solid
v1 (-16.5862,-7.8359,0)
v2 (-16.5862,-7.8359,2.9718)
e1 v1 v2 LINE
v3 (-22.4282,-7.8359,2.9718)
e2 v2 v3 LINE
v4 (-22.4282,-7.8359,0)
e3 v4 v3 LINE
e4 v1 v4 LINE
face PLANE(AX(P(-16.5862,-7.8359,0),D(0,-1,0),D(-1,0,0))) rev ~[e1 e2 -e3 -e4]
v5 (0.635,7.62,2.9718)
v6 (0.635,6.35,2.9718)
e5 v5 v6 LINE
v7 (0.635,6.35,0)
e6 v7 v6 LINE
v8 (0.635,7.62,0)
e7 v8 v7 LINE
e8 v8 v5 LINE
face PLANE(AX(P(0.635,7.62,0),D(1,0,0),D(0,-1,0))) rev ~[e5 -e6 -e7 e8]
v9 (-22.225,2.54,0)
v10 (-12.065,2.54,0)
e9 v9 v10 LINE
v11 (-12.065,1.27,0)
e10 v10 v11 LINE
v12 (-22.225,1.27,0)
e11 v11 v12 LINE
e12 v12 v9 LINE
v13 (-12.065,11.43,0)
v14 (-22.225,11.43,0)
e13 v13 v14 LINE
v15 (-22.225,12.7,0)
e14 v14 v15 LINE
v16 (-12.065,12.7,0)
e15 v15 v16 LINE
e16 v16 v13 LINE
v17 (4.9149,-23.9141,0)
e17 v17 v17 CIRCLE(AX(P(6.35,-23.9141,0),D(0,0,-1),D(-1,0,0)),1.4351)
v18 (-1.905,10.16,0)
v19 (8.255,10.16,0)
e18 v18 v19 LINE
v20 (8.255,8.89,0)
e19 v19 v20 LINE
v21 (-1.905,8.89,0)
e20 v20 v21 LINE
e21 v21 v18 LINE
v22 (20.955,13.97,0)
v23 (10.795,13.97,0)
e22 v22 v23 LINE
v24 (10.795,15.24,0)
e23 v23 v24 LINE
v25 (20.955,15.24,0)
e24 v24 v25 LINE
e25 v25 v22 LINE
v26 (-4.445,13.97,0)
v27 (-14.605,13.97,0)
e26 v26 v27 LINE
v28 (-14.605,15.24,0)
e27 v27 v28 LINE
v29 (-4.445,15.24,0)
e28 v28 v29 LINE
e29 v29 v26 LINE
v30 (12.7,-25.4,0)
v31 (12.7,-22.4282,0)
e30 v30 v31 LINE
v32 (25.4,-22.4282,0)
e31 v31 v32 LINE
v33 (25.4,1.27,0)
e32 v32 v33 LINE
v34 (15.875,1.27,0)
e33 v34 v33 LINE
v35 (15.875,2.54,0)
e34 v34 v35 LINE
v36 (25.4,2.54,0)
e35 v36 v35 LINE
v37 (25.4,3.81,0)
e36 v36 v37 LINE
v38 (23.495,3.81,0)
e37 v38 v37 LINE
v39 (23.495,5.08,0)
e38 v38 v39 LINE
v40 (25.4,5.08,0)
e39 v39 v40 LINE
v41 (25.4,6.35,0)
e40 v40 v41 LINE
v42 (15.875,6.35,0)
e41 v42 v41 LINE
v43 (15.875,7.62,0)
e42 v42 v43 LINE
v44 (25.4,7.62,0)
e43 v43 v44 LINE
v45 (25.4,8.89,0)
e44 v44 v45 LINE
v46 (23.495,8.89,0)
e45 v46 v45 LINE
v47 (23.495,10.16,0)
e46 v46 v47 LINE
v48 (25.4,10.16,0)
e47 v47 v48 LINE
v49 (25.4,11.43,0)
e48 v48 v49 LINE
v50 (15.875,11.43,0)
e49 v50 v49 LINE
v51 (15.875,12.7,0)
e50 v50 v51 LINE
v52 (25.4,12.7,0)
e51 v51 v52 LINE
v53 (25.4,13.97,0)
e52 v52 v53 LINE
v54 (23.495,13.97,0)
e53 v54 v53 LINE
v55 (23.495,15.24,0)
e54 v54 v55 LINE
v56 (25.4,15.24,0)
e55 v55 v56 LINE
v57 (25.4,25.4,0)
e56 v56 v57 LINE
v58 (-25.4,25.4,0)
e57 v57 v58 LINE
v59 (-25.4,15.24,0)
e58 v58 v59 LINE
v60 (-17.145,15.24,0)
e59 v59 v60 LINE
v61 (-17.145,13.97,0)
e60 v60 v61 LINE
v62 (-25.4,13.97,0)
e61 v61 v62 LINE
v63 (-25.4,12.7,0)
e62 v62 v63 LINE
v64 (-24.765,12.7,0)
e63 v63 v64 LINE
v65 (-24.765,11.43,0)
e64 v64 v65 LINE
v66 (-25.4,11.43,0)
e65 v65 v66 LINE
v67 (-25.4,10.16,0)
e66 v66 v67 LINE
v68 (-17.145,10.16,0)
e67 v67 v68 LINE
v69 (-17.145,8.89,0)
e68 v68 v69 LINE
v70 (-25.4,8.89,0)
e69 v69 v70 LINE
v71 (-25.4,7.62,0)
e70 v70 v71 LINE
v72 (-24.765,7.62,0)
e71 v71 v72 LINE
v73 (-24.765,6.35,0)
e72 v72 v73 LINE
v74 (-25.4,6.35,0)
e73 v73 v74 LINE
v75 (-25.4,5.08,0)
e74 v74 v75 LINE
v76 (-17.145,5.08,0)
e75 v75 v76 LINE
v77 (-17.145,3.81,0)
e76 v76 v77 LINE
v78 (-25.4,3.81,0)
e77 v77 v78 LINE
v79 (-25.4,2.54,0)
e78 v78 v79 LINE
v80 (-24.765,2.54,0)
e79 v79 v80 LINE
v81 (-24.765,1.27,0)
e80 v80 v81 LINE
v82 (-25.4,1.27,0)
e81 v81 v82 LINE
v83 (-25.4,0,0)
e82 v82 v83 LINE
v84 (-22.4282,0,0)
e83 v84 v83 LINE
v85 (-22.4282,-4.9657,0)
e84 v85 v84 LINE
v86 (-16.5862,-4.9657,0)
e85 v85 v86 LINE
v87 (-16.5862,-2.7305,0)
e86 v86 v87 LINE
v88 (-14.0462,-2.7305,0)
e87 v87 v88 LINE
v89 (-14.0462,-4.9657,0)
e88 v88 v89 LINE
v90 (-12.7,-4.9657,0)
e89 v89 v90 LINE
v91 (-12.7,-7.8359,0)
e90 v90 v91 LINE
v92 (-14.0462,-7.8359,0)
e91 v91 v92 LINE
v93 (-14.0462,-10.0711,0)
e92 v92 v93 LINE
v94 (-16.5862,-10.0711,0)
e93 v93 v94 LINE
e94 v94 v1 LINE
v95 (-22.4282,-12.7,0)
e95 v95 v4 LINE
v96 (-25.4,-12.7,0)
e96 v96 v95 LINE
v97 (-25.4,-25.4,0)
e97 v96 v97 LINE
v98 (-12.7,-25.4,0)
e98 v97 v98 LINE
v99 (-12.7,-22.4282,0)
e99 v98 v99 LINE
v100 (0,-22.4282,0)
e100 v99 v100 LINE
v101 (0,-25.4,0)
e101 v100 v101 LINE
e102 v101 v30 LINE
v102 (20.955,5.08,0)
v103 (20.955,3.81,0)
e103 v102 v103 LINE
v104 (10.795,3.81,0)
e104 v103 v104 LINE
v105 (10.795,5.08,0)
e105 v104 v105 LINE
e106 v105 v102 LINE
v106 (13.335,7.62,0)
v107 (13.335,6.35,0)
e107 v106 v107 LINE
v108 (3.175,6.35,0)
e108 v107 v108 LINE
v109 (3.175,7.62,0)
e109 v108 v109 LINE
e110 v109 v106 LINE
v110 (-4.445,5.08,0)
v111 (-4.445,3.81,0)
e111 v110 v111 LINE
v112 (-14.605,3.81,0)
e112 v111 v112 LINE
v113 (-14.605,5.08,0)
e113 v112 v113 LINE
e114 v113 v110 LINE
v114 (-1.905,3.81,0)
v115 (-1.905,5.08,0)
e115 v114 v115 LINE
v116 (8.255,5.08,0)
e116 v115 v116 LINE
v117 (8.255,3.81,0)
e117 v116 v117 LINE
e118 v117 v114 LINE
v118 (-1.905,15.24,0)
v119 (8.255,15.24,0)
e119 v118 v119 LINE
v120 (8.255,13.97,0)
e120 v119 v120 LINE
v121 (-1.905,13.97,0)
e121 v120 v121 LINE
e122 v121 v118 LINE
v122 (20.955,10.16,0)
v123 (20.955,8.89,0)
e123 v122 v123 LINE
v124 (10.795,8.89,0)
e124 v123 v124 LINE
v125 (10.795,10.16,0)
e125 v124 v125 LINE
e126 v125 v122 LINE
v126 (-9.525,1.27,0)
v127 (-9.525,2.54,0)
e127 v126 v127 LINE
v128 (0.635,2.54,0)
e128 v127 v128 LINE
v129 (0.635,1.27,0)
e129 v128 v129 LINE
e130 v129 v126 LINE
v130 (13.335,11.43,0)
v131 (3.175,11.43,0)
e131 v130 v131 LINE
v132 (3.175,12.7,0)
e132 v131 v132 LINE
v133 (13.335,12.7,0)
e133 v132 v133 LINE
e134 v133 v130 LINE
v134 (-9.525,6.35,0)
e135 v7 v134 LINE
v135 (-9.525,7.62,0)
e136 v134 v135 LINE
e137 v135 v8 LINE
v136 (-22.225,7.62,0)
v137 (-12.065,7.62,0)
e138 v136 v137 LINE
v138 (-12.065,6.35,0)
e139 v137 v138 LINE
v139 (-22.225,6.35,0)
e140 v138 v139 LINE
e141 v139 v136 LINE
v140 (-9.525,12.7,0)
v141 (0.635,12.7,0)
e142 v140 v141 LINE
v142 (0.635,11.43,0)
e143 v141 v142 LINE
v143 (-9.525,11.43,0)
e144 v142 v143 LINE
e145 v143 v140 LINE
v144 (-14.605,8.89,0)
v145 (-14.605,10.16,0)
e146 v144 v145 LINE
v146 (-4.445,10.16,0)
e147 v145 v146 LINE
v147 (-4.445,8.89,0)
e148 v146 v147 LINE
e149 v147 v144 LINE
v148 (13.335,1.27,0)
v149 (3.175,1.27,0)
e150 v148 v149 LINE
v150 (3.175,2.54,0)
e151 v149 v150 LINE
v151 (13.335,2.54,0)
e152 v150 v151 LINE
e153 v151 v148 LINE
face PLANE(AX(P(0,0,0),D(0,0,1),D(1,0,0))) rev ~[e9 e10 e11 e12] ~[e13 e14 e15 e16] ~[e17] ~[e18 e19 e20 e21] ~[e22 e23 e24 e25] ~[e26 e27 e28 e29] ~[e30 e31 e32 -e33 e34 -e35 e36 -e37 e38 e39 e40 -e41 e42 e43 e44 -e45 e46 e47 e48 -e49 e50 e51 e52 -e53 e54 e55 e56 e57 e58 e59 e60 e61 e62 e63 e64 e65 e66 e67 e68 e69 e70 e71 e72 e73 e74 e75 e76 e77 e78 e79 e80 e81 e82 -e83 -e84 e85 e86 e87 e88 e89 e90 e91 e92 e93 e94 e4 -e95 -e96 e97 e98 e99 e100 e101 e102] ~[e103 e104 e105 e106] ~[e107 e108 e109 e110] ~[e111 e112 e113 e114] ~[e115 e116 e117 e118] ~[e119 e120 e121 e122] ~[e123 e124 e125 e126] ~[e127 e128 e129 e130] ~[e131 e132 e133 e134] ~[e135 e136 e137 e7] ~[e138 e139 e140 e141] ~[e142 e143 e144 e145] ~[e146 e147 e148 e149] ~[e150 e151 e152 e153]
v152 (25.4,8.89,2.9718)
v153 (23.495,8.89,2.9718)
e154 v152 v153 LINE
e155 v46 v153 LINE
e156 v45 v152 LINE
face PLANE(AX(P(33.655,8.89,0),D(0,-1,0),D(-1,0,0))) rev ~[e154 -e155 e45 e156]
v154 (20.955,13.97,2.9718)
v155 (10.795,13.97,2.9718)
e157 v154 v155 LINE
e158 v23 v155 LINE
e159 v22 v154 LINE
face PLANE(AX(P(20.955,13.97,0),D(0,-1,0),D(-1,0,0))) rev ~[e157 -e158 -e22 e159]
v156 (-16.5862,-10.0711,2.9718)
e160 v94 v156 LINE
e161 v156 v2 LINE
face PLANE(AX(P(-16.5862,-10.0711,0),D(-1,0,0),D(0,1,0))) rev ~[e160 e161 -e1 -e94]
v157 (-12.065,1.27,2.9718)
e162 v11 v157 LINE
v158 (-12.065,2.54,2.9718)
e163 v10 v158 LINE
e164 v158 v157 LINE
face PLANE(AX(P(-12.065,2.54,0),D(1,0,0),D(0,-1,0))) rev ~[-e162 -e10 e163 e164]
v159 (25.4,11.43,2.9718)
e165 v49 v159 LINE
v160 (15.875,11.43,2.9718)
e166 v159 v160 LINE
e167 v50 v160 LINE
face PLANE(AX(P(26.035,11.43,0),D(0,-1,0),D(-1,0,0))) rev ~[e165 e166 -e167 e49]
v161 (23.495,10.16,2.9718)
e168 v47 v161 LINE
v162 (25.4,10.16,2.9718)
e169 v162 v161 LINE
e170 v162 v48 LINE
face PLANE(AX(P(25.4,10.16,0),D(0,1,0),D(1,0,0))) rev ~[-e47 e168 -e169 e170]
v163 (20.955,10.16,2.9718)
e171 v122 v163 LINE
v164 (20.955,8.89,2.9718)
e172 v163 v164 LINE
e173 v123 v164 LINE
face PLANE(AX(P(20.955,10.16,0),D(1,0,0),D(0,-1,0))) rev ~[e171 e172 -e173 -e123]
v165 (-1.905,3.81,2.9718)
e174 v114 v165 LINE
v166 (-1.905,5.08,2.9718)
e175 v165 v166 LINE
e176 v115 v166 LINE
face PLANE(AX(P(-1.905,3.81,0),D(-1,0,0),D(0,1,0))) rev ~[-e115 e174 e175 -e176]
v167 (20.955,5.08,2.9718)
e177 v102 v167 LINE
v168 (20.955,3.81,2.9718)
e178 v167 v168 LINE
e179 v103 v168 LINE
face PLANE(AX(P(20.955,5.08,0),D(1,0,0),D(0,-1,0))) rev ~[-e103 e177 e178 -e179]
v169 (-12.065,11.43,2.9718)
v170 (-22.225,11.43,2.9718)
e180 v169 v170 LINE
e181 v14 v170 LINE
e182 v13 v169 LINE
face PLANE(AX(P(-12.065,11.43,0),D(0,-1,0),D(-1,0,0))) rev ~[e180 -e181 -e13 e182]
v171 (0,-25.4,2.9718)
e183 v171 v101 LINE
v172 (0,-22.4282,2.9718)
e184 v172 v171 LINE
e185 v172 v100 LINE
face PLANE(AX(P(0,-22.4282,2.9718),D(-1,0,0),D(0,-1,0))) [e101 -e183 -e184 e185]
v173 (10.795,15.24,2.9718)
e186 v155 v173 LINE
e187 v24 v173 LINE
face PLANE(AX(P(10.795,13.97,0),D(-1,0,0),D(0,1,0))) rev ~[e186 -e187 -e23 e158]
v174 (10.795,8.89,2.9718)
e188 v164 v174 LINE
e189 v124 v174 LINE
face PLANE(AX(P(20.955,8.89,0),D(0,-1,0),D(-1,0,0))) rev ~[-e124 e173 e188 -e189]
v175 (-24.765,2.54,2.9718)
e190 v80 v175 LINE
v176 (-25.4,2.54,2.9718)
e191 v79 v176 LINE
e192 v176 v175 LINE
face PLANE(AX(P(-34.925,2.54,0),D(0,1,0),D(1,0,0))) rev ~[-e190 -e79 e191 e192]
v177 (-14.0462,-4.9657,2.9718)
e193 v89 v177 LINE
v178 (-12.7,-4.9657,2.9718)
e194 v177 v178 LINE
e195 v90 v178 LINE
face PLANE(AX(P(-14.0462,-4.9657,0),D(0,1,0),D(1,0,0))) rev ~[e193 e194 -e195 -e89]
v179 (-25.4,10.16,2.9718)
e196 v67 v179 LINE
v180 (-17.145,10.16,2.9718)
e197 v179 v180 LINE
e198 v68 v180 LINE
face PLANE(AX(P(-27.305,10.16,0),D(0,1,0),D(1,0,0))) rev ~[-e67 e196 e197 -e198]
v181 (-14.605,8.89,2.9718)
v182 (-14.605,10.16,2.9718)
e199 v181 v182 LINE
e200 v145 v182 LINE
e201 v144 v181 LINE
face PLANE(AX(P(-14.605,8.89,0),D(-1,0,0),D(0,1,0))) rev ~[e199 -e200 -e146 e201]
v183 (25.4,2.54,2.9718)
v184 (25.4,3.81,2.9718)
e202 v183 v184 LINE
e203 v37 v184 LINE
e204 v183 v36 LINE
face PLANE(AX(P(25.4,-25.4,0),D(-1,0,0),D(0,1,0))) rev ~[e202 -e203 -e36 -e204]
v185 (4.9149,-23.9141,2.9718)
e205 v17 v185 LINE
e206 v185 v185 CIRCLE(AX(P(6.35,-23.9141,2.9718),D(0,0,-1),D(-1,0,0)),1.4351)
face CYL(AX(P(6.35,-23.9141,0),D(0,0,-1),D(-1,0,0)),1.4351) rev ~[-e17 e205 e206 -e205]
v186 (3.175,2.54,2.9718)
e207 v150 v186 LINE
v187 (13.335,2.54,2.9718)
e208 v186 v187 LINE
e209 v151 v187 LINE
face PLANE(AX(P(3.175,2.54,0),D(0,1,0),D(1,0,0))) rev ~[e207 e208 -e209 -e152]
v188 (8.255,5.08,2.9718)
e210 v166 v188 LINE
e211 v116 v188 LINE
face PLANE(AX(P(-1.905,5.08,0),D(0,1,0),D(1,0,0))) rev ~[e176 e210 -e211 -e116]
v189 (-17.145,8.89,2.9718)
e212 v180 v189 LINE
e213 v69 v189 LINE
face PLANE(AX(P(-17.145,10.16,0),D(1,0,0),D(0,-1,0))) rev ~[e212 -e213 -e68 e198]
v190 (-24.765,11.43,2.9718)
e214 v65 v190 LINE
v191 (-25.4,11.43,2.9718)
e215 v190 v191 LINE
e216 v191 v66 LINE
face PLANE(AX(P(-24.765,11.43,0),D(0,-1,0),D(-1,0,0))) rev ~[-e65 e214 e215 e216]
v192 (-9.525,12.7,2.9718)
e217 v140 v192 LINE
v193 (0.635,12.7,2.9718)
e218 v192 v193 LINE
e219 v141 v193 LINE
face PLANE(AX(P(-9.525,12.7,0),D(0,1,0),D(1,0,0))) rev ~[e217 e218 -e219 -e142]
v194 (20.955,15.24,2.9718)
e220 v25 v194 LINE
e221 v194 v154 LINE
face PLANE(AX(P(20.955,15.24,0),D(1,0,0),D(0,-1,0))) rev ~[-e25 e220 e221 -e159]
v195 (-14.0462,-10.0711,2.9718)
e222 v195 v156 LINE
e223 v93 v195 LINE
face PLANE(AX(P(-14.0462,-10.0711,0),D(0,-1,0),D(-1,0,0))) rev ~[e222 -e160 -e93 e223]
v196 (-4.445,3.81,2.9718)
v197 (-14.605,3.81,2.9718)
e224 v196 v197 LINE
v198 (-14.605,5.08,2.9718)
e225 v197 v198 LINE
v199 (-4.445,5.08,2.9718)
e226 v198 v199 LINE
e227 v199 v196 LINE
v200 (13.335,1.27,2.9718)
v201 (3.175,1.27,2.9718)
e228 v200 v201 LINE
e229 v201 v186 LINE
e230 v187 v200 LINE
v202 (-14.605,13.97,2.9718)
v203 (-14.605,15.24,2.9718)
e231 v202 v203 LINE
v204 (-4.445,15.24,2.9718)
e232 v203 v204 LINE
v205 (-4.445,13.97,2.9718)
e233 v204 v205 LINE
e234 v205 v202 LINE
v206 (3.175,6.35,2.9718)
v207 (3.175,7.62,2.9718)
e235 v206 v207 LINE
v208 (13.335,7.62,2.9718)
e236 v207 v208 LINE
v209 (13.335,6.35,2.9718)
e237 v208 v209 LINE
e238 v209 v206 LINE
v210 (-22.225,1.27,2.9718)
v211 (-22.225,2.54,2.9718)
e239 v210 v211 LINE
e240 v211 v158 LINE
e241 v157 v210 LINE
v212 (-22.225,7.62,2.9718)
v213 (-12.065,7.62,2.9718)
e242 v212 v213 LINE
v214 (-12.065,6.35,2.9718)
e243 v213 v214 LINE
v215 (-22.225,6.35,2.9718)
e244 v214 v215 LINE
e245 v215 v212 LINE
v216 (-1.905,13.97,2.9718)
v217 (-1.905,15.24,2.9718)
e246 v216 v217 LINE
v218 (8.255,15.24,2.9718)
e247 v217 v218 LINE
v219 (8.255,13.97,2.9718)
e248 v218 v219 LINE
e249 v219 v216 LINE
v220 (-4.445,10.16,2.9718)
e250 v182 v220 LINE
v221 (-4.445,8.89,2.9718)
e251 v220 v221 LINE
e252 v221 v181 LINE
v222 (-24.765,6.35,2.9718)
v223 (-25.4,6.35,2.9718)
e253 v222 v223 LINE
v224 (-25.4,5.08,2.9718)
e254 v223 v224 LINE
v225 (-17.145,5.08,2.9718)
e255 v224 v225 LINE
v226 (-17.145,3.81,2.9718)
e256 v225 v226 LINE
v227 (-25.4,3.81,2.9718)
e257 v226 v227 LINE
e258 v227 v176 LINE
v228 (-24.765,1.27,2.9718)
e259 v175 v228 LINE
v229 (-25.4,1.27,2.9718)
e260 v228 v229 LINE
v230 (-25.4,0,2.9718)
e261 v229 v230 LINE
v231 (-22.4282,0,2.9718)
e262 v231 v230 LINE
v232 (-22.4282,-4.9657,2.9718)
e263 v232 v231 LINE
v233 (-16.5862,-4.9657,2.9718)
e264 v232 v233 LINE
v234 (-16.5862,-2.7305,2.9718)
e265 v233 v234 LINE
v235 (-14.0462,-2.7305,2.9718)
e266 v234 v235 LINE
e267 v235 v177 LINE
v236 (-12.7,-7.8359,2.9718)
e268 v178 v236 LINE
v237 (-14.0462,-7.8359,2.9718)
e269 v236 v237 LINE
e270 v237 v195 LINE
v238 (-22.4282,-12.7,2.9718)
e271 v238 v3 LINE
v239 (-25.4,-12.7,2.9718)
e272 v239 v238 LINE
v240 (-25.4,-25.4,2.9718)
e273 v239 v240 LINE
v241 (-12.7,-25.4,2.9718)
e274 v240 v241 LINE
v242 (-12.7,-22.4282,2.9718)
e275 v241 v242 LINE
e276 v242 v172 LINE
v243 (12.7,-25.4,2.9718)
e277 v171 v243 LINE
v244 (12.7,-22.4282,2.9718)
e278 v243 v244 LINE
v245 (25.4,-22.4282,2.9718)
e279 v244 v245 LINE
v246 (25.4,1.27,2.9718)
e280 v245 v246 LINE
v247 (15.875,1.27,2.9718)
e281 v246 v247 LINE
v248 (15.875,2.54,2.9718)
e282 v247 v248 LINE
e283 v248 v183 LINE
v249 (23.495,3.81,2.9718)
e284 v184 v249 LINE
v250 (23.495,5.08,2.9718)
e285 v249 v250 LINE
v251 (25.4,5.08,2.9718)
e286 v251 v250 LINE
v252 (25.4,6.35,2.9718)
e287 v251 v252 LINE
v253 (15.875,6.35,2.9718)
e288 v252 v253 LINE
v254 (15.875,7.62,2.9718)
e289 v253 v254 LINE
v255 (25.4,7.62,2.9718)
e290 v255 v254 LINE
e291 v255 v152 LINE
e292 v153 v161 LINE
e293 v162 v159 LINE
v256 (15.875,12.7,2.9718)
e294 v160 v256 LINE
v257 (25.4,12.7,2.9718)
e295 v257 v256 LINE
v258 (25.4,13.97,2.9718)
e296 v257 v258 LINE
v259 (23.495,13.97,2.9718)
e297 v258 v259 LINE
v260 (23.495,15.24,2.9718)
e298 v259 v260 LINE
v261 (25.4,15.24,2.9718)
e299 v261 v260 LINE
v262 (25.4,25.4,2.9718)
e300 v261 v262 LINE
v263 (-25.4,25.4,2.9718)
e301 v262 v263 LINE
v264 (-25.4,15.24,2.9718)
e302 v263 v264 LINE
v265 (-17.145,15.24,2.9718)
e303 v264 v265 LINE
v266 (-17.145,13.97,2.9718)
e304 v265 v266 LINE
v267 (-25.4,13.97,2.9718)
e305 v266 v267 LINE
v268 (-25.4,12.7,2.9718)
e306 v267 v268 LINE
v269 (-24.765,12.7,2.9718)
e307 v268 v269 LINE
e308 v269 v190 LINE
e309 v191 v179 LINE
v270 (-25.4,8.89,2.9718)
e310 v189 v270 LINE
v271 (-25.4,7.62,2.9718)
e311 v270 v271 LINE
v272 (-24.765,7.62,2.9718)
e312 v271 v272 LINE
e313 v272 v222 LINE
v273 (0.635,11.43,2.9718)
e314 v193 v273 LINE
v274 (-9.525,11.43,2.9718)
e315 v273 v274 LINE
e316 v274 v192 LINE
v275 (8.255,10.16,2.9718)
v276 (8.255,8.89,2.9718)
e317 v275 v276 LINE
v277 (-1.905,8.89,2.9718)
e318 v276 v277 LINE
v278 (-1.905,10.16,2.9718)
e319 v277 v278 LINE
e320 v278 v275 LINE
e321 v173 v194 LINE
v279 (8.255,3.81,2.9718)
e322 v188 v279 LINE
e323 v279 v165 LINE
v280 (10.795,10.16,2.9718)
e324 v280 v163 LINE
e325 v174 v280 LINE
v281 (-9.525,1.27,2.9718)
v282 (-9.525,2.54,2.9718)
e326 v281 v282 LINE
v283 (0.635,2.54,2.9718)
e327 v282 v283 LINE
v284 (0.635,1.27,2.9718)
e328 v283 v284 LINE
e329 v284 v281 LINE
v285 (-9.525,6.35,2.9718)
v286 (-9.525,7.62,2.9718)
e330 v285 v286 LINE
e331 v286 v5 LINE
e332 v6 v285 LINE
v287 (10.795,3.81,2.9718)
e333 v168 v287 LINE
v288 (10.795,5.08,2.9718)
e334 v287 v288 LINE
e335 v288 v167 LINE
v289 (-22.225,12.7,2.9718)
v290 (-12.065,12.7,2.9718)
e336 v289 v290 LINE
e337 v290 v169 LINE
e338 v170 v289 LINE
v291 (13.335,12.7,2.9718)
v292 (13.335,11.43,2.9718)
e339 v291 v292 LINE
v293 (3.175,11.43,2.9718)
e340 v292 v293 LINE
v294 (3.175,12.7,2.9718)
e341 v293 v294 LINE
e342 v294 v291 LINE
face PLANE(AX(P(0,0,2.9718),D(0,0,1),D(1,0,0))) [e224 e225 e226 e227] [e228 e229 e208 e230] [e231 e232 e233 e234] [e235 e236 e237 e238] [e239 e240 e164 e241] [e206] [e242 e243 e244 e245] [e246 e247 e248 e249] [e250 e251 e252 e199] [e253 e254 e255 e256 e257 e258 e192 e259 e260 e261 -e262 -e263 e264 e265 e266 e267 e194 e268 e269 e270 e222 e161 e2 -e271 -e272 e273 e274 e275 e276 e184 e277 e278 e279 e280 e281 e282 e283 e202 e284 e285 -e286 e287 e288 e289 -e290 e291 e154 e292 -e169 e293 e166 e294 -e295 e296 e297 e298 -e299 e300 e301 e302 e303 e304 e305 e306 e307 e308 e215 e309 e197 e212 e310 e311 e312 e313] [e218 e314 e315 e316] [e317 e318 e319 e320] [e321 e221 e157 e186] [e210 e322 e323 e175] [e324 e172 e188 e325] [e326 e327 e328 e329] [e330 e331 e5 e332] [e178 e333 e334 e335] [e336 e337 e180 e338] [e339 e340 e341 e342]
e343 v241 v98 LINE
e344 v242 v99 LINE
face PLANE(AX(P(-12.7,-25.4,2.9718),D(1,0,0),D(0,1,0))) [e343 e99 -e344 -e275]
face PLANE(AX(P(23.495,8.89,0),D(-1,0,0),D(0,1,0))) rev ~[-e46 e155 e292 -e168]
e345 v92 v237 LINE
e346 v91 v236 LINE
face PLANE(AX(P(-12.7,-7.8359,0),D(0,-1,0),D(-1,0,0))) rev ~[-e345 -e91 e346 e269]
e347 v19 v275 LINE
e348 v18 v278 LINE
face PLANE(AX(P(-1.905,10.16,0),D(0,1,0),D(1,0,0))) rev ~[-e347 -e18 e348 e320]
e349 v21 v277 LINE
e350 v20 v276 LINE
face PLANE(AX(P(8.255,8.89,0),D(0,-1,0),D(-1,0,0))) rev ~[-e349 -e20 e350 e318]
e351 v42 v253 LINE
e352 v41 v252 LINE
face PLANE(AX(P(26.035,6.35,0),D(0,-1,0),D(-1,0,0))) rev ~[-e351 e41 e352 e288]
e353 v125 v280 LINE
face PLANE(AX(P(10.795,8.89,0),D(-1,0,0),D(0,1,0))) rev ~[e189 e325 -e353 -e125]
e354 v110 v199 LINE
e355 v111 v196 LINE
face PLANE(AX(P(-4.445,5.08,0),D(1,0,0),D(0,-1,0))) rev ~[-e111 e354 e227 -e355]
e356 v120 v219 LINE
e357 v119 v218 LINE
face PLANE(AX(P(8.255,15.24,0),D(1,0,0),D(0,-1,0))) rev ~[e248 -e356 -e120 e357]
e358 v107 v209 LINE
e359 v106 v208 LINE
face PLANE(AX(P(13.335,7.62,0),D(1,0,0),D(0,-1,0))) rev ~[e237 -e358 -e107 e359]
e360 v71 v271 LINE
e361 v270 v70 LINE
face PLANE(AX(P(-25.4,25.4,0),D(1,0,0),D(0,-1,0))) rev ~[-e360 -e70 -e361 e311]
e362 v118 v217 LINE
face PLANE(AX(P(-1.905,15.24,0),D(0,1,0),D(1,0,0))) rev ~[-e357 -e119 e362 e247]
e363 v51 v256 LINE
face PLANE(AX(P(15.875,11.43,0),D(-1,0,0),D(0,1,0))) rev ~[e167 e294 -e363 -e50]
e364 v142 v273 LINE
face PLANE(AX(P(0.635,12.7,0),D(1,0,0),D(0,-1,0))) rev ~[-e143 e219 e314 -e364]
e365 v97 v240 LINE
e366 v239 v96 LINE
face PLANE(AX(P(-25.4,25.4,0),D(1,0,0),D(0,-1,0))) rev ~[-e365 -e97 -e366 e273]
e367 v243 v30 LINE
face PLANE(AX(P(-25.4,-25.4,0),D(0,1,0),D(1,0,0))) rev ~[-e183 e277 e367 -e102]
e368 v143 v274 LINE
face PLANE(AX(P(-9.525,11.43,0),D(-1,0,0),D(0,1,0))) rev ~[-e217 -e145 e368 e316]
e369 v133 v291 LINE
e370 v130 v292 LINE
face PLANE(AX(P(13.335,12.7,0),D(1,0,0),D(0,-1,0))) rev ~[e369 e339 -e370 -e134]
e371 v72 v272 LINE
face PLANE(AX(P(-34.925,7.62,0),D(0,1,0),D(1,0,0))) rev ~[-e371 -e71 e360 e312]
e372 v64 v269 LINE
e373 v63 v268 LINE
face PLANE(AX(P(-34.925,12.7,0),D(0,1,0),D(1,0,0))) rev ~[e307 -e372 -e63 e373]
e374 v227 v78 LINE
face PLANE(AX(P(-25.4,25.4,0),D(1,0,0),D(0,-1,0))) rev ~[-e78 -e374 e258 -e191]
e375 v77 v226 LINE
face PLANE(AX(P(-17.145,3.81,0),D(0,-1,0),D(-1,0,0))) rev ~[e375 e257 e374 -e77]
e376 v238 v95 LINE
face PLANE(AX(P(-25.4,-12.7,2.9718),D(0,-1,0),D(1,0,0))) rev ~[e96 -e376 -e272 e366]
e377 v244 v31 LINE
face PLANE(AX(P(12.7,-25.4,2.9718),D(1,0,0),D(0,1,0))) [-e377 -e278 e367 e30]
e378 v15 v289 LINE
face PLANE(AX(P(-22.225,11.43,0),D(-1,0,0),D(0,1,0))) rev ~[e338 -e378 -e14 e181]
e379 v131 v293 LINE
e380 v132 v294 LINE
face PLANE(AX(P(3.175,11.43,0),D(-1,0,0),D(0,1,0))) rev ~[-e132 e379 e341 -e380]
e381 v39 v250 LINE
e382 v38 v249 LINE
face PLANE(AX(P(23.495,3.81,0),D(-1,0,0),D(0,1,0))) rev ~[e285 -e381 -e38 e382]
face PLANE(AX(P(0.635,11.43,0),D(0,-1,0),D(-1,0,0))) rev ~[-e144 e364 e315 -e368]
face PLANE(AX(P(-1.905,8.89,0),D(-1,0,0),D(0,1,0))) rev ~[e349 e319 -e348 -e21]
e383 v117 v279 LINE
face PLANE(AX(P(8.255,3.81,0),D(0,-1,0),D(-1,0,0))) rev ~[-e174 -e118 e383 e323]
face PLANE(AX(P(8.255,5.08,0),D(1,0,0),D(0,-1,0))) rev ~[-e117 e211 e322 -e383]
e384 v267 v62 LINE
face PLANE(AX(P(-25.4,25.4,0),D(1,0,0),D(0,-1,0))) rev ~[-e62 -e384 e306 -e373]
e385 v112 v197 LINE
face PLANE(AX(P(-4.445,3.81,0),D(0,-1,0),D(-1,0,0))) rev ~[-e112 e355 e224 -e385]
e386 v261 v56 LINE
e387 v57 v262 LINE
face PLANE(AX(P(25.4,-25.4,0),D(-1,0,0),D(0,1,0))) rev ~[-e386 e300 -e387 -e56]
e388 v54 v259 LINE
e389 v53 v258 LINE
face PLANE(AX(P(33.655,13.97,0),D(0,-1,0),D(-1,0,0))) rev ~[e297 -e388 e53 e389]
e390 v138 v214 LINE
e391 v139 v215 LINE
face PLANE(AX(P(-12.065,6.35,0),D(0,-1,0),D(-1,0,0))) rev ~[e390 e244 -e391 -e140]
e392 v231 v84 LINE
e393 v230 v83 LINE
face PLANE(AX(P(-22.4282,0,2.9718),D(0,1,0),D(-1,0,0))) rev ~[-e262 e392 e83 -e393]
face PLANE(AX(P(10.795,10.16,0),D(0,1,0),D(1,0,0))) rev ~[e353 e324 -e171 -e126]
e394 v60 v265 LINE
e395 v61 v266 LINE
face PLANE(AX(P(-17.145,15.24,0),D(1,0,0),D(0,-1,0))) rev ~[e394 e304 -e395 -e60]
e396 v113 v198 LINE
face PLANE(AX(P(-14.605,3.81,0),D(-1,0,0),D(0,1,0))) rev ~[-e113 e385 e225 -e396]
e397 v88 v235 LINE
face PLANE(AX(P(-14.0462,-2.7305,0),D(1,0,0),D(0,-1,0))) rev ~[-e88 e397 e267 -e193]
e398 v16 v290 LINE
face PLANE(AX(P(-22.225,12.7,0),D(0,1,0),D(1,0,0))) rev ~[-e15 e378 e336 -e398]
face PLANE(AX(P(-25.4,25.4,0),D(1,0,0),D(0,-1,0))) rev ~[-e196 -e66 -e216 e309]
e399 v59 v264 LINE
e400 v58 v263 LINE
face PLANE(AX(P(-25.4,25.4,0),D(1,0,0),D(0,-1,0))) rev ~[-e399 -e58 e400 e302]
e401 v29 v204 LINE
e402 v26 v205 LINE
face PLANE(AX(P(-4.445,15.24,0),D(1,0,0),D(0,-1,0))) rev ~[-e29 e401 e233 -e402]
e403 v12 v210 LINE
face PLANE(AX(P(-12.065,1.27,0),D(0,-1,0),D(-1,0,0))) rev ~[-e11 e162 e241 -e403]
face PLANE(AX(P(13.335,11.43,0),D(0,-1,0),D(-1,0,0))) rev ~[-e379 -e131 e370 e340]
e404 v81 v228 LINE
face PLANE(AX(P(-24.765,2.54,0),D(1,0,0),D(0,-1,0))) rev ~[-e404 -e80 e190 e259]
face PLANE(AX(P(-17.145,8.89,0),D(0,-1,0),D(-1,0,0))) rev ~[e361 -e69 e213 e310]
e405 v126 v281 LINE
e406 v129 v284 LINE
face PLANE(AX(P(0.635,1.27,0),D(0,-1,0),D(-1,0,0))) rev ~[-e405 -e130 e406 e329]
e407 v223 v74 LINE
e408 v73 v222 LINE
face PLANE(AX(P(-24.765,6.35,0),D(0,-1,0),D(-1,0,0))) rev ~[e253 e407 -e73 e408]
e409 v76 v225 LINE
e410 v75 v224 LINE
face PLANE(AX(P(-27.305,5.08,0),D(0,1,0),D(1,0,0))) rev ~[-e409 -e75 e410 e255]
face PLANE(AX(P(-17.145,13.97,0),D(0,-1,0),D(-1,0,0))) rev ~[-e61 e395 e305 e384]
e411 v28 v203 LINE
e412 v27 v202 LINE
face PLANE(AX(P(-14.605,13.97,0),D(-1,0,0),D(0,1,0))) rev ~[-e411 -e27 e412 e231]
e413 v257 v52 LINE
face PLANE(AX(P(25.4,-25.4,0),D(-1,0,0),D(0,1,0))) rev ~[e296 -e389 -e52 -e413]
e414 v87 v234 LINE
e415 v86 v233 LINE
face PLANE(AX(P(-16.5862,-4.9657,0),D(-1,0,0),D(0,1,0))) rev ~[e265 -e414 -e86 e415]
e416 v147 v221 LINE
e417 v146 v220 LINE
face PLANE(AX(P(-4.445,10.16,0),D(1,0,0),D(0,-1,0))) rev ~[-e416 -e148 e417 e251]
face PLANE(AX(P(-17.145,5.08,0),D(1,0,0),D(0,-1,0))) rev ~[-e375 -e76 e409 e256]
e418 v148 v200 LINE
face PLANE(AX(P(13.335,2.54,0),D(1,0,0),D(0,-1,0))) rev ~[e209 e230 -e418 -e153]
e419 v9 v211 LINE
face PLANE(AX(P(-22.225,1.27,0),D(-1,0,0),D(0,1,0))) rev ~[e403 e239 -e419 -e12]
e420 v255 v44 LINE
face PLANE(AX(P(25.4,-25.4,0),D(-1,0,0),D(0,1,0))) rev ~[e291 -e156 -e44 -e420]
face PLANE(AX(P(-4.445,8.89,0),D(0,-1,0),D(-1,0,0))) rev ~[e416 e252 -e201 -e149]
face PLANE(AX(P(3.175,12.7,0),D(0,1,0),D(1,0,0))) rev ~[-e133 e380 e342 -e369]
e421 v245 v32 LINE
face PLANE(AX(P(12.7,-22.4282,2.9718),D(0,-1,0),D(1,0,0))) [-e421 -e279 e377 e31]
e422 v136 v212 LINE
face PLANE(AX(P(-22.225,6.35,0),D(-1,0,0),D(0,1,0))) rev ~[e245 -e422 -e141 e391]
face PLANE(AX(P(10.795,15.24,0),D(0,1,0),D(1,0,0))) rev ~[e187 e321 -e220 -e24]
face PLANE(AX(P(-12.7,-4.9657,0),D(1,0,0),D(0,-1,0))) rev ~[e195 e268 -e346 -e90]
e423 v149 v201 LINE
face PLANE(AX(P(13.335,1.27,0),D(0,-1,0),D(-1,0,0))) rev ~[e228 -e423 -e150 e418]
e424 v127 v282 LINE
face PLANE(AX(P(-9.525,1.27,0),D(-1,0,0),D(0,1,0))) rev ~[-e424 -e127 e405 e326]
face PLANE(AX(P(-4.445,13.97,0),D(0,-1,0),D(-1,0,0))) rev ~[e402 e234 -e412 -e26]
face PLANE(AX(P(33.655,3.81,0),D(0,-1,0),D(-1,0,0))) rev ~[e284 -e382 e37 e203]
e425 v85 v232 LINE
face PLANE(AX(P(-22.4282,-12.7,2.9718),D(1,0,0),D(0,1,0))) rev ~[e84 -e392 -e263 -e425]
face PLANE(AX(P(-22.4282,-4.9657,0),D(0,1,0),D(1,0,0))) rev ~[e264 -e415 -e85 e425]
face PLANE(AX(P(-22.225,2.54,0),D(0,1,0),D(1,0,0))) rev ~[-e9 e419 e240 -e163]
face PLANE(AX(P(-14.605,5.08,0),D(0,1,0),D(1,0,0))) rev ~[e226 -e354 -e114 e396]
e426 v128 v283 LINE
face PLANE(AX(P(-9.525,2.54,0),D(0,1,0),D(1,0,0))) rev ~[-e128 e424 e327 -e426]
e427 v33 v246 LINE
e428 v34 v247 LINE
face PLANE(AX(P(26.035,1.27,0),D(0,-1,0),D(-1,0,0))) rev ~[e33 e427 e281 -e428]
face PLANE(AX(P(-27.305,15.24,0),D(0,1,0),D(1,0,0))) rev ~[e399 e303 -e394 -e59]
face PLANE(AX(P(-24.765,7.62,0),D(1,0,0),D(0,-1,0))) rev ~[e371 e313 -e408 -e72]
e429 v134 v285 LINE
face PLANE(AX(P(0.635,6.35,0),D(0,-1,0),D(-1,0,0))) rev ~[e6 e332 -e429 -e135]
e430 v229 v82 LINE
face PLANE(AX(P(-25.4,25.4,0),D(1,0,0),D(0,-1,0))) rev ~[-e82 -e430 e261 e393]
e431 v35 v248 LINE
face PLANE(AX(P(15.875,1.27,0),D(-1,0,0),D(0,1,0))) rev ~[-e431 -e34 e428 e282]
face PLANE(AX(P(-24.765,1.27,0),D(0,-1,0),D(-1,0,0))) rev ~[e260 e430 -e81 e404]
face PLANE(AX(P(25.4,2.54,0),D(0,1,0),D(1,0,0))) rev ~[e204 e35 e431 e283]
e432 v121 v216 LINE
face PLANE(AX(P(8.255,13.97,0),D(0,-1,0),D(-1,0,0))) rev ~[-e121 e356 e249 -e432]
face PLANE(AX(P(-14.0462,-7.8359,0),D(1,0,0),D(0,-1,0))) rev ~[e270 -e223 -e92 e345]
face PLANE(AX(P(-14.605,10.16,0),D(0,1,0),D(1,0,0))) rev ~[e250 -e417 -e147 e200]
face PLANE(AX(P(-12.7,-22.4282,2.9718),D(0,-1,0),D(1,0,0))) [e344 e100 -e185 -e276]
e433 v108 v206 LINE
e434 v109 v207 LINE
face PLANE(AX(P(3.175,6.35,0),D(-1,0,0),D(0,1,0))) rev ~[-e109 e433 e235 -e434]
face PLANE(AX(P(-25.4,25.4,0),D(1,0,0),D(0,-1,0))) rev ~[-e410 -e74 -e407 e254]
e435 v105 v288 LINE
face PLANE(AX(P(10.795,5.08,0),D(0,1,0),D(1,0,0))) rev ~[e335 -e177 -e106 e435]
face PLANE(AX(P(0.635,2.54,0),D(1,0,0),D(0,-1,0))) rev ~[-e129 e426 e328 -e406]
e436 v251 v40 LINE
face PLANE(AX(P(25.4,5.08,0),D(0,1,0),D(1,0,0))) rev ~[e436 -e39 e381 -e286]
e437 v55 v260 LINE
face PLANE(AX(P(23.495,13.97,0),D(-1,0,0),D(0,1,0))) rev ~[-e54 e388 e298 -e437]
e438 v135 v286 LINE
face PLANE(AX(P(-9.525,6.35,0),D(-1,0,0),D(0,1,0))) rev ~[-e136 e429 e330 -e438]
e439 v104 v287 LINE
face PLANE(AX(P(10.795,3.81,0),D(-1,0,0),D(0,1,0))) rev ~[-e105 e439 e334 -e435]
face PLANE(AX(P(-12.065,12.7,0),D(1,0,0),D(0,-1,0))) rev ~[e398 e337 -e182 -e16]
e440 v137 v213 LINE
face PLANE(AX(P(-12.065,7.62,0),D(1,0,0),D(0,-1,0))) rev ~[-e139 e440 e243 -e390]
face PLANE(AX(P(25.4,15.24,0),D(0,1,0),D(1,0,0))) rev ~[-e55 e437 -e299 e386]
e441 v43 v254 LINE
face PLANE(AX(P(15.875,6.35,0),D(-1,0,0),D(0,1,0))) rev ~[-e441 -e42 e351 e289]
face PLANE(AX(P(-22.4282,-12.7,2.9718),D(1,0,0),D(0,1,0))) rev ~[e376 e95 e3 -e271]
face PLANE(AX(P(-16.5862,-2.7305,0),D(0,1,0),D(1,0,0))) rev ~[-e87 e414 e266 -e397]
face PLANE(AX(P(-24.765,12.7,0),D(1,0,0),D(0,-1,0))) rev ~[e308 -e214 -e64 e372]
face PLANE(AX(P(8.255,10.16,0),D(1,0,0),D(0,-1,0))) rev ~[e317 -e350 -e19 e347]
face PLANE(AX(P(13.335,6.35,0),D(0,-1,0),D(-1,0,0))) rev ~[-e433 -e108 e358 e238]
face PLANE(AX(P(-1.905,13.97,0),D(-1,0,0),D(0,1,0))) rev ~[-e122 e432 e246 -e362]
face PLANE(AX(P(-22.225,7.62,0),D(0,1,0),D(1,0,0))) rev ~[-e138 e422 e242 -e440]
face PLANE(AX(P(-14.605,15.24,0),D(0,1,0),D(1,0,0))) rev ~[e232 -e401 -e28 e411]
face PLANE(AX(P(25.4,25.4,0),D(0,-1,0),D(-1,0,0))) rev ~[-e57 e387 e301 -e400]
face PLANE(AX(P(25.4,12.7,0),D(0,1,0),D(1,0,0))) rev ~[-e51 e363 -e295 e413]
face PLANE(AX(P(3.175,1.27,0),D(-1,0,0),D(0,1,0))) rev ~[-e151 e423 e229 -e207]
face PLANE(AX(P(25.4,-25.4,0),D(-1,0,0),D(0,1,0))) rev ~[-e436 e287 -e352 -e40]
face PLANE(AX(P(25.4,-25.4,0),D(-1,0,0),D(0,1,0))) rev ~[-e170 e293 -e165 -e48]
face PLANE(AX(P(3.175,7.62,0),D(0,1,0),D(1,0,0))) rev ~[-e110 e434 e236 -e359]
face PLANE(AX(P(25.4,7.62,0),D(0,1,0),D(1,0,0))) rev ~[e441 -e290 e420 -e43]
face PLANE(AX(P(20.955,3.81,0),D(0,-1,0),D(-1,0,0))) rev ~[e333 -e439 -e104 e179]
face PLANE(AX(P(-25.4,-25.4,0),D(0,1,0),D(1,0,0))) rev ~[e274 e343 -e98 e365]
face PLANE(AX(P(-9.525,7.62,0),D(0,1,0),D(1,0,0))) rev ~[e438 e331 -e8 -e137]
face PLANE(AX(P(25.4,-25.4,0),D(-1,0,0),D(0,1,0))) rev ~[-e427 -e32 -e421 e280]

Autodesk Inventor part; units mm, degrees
ref_plane "YZ Plane" through (0, 0, 0) normal (1, 0, 0) x (0, 1, 0)
ref_plane "XZ Plane" through (0, 0, 0) normal (0, 1, 0) x (-1, 0, 0)
ref_plane "XY Plane" through (0, 0, 0) normal (0, 0, 1) x (1, 0, 0)
sketch "Sketch1" plane through (0, 0, 0) normal (0, 0, 1) x (1, 0, 0)
  line L0 (-25.4, -25.4) -> (25.4, -25.4)
  line L1 (25.4, -25.4) -> (25.4, 25.4)
  line L2 (25.4, 25.4) -> (-25.4, 25.4)
  line L3 (-25.4, 25.4) -> (-25.4, -25.4)
  line L4 (-25.4, -25.4) -> (25.4, 25.4) construction
  line L5 (25.4, -25.4) -> (-25.4, 25.4) construction
  point P0 (0, 0)
  dimension "d0" = 50.8
  dimension "d1" = 50.8
extrude "Extrusion1" add sketch "Sketch1" along normal blind 2.9718
sketch "Sketch2" plane through (0, 0, 2.9718) normal (0, 0, 1) x (1, 0, 0)
  line L0 (-25.4, -25.4) -> (25.4, -25.4) projected
  line L1 (25.4, -25.4) -> (12.7, -25.4)
  line L2 (12.7, -25.4) -> (12.7, -22.4282)
  line L3 (12.7, -22.4282) -> (25.4, -22.4282)
  line L4 (25.4, -22.4282) -> (25.4, -25.4)
  line L5 (0, -25.4) -> (-12.7, -25.4)
  line L6 (-12.7, -25.4) -> (-12.7, -22.4282)
  line L7 (-12.7, -22.4282) -> (0, -22.4282)
  line L8 (0, -22.4282) -> (0, -25.4)
  line L9 (-25.4, -12.7) -> (-22.4282, -12.7)
  line L10 (-22.4282, -12.7) -> (-22.4282, 0)
  line L11 (-22.4282, 0) -> (-25.4, 0)
  line L12 (-25.4, 0) -> (-25.4, -12.7)
  point P0 (0, 0)
  dimension "d4" = 12.7
  dimension "d5" = 2.9718
  dimension "d6" = 12.7
  dimension "d7" = 2.9718
  dimension "d8" = 2.9718
  dimension "d9" = 12.7
  dimension "d10" = 12.7
extrude "Extrusion2" cut sketch "Sketch2" against normal blind 2.9718
sketch "Sketch3" plane through (0, 0, 0) normal (0, 0, -1) x (-1, 0, 0)
  line L0 (-26.035, 1.27) -> (-15.875, 1.27)
  line L1 (-15.875, 1.27) -> (-15.875, 2.54)
  line L2 (-15.875, 2.54) -> (-26.035, 2.54)
  line L3 (-26.035, 2.54) -> (-26.035, 1.27)
  line L4 (-25.4, -22.4282) -> (-25.4, 25.4) projected
  line L5 (-20.955, 3.81) -> (-10.795, 3.81)
  line L6 (-10.795, 3.81) -> (-10.795, 5.08)
  line L7 (-10.795, 5.08) -> (-20.955, 5.08)
  line L8 (-20.955, 5.08) -> (-20.955, 3.81)
  line L9 (-33.655, 3.81) -> (-23.495, 3.81)
  line L10 (-23.495, 3.81) -> (-23.495, 5.08)
  line L11 (-23.495, 5.08) -> (-33.655, 5.08)
  line L12 (-33.655, 5.08) -> (-33.655, 3.81)
  line L13 (-13.335, 1.27) -> (-3.175, 1.27)
  line L14 (-3.175, 1.27) -> (-3.175, 2.54)
  line L15 (-3.175, 2.54) -> (-13.335, 2.54)
  line L16 (-13.335, 2.54) -> (-13.335, 1.27)
  line L17 (9.525, 1.27) -> (9.525, 2.54)
  line L18 (4.445, 3.81) -> (14.605, 3.81)
  line L19 (14.605, 5.08) -> (4.445, 5.08)
  line L20 (4.445, 5.08) -> (4.445, 3.81)
  line L21 (-0.635, 1.27) -> (9.525, 1.27)
  line L22 (9.525, 2.54) -> (-0.635, 2.54)
  line L23 (-0.635, 2.54) -> (-0.635, 1.27)
  line L24 (12.065, 2.54) -> (12.065, 1.27)
  line L25 (14.605, 3.81) -> (14.605, 5.08)
  line L26 (22.225, 2.54) -> (12.065, 2.54)
  line L27 (12.065, 1.27) -> (22.225, 1.27)
  line L28 (22.225, 1.27) -> (22.225, 2.54)
  line L29 (1.905, 3.81) -> (1.905, 5.08)
  line L30 (1.905, 5.08) -> (-8.255, 5.08)
  line L31 (-8.255, 5.08) -> (-8.255, 3.81)
  line L32 (-8.255, 3.81) -> (1.905, 3.81)
  line L33 (34.925, 1.27) -> (34.925, 2.54)
  line L34 (29.845, 3.81) -> (40.005, 3.81)
  line L35 (40.005, 5.08) -> (29.845, 5.08)
  line L36 (29.845, 5.08) -> (29.845, 3.81)
  line L37 (24.765, 1.27) -> (34.925, 1.27)
  line L38 (34.925, 2.54) -> (24.765, 2.54)
  line L39 (24.765, 2.54) -> (24.765, 1.27)
  line L40 (37.465, 2.54) -> (37.465, 1.27)
  line L41 (40.005, 3.81) -> (40.005, 5.08)
  line L42 (47.625, 2.54) -> (37.465, 2.54)
  line L43 (37.465, 1.27) -> (47.625, 1.27)
  line L44 (47.625, 1.27) -> (47.625, 2.54)
  line L45 (27.305, 3.81) -> (27.305, 5.08)
  line L46 (27.305, 5.08) -> (17.145, 5.08)
  line L47 (17.145, 5.08) -> (17.145, 3.81)
  line L48 (17.145, 3.81) -> (27.305, 3.81)
  line L49 (-15.875, 6.35) -> (-15.875, 7.62)
  line L50 (-20.955, 8.89) -> (-10.795, 8.89)
  line L51 (-10.795, 10.16) -> (-20.955, 10.16)
  line L52 (-20.955, 10.16) -> (-20.955, 8.89)
  line L53 (-26.035, 6.35) -> (-15.875, 6.35)
  line L54 (-15.875, 7.62) -> (-26.035, 7.62)
  line L55 (-26.035, 7.62) -> (-26.035, 6.35)
  line L56 (-13.335, 7.62) -> (-13.335, 6.35)
  line L57 (-10.795, 8.89) -> (-10.795, 10.16)
  line L58 (-3.175, 7.62) -> (-13.335, 7.62)
  line L59 (-13.335, 6.35) -> (-3.175, 6.35)
  line L60 (-3.175, 6.35) -> (-3.175, 7.62)
  line L61 (-23.495, 8.89) -> (-23.495, 10.16)
  line L62 (-23.495, 10.16) -> (-33.655, 10.16)
  line L63 (-33.655, 10.16) -> (-33.655, 8.89)
  line L64 (-33.655, 8.89) -> (-23.495, 8.89)
  line L65 (9.525, 6.35) -> (9.525, 7.62)
  line L66 (4.445, 8.89) -> (14.605, 8.89)
  line L67 (14.605, 10.16) -> (4.445, 10.16)
  line L68 (4.445, 10.16) -> (4.445, 8.89)
  line L69 (-0.635, 6.35) -> (9.525, 6.35)
  line L70 (9.525, 7.62) -> (-0.635, 7.62)
  line L71 (-0.635, 7.62) -> (-0.635, 6.35)
  line L72 (12.065, 7.62) -> (12.065, 6.35)
  line L73 (14.605, 8.89) -> (14.605, 10.16)
  line L74 (22.225, 7.62) -> (12.065, 7.62)
  line L75 (12.065, 6.35) -> (22.225, 6.35)
  line L76 (22.225, 6.35) -> (22.225, 7.62)
  line L77 (1.905, 8.89) -> (1.905, 10.16)
  line L78 (1.905, 10.16) -> (-8.255, 10.16)
  line L79 (-8.255, 10.16) -> (-8.255, 8.89)
  line L80 (-8.255, 8.89) -> (1.905, 8.89)
  line L81 (34.925, 6.35) -> (34.925, 7.62)
  line L82 (29.845, 8.89) -> (40.005, 8.89)
  line L83 (40.005, 10.16) -> (29.845, 10.16)
  line L84 (29.845, 10.16) -> (29.845, 8.89)
  line L85 (24.765, 6.35) -> (34.925, 6.35)
  line L86 (34.925, 7.62) -> (24.765, 7.62)
  line L87 (24.765, 7.62) -> (24.765, 6.35)
  line L88 (37.465, 7.62) -> (37.465, 6.35)
  line L89 (40.005, 8.89) -> (40.005, 10.16)
  line L90 (47.625, 7.62) -> (37.465, 7.62)
  line L91 (37.465, 6.35) -> (47.625, 6.35)
  line L92 (47.625, 6.35) -> (47.625, 7.62)
  line L93 (27.305, 8.89) -> (27.305, 10.16)
  line L94 (27.305, 10.16) -> (17.145, 10.16)
  line L95 (17.145, 10.16) -> (17.145, 8.89)
  line L96 (17.145, 8.89) -> (27.305, 8.89)
  line L97 (-15.875, 11.43) -> (-15.875, 12.7)
  line L98 (-20.955, 13.97) -> (-10.795, 13.97)
  line L99 (-10.795, 15.24) -> (-20.955, 15.24)
  line L100 (-20.955, 15.24) -> (-20.955, 13.97)
  line L101 (-26.035, 11.43) -> (-15.875, 11.43)
  line L102 (-15.875, 12.7) -> (-26.035, 12.7)
  line L103 (-26.035, 12.7) -> (-26.035, 11.43)
  line L104 (-13.335, 12.7) -> (-13.335, 11.43)
  line L105 (-10.795, 13.97) -> (-10.795, 15.24)
  line L106 (-3.175, 12.7) -> (-13.335, 12.7)
  line L107 (-13.335, 11.43) -> (-3.175, 11.43)
  line L108 (-3.175, 11.43) -> (-3.175, 12.7)
  line L109 (-23.495, 13.97) -> (-23.495, 15.24)
  line L110 (-23.495, 15.24) -> (-33.655, 15.24)
  line L111 (-33.655, 15.24) -> (-33.655, 13.97)
  line L112 (-33.655, 13.97) -> (-23.495, 13.97)
  line L113 (9.525, 11.43) -> (9.525, 12.7)
  line L114 (4.445, 13.97) -> (14.605, 13.97)
  line L115 (14.605, 15.24) -> (4.445, 15.24)
  line L116 (4.445, 15.24) -> (4.445, 13.97)
  line L117 (-0.635, 11.43) -> (9.525, 11.43)
  line L118 (9.525, 12.7) -> (-0.635, 12.7)
  line L119 (-0.635, 12.7) -> (-0.635, 11.43)
  line L120 (12.065, 12.7) -> (12.065, 11.43)
  line L121 (14.605, 13.97) -> (14.605, 15.24)
  line L122 (22.225, 12.7) -> (12.065, 12.7)
  line L123 (12.065, 11.43) -> (22.225, 11.43)
  line L124 (22.225, 11.43) -> (22.225, 12.7)
  line L125 (1.905, 13.97) -> (1.905, 15.24)
  line L126 (1.905, 15.24) -> (-8.255, 15.24)
  line L127 (-8.255, 15.24) -> (-8.255, 13.97)
  line L128 (-8.255, 13.97) -> (1.905, 13.97)
  line L129 (34.925, 11.43) -> (34.925, 12.7)
  line L130 (29.845, 13.97) -> (40.005, 13.97)
  line L131 (40.005, 15.24) -> (29.845, 15.24)
  line L132 (29.845, 15.24) -> (29.845, 13.97)
  line L133 (24.765, 11.43) -> (34.925, 11.43)
  line L134 (34.925, 12.7) -> (24.765, 12.7)
  line L135 (24.765, 12.7) -> (24.765, 11.43)
  line L136 (37.465, 12.7) -> (37.465, 11.43)
  line L137 (40.005, 13.97) -> (40.005, 15.24)
  line L138 (47.625, 12.7) -> (37.465, 12.7)
  line L139 (37.465, 11.43) -> (47.625, 11.43)
  line L140 (47.625, 11.43) -> (47.625, 12.7)
  line L141 (27.305, 13.97) -> (27.305, 15.24)
  line L142 (27.305, 15.24) -> (17.145, 15.24)
  line L143 (17.145, 15.24) -> (17.145, 13.97)
  line L144 (17.145, 13.97) -> (27.305, 13.97)
  point P0 (0, 0)
  point P1 (25.4, 0)
  point P2 (50.8, 0)
  point P3 (0, 5.08)
  point P4 (25.4, 5.08)
  point P5 (50.8, 5.08)
  point P6 (0, 10.16)
  point P7 (25.4, 10.16)
  point P8 (50.8, 10.16)
  dimension "d14" = 1.27
  dimension "d15" = 10.16
  dimension "d16" = 1.27
  dimension "d17" = 10.16
  dimension "d18" = 1.27
  dimension "d19" = 1.27
  dimension "d20" = 10.16
  dimension "d21" = 1.27
  dimension "d22" = 5.08
  dimension "d23" = 2.54
  dimension "d24" = 1.27
  dimension "d25" = 1.27
  dimension "d26" = 10.16
  dimension "d27" = 0
  dimension "d28" = 2.54
  dimension "d31" = 25.4
  dimension "d34" = 5.08
  dimension "d37" = 26.035
extrude "Extrusion4" cut sketch "Sketch3" against normal blind 2.9718 contours L3 L2 L4 L0 | L112 L111 L110 L4 | L4 L110 L109 L112 | L101 L103 L102 L4 | L4 L102 L97 L101 | L64 L63 L62 L4 | L4 L62 L61 L64 | L53 L55 L54 L4 | L4 L54 L49 L53 | L9 L12 L11 L4 | L4 L11 L10 L9 | L4 L2 L1 L0 | L8 L7 L6 L5 | L16 L15 L14 L13 | L21 L23 L22 L17 | L20 L19 L25 L18 | L26 L28 L27 L24 | L32 L31 L30 L29 | L37 L39 L38 L33 | L48 L47 L46 L45 | L52 L51 L57 L50 | L58 L60 L59 L56 | L69 L71 L70 L65 | L68 L67 L73 L66 | L74 L76 L75 L72 | L80 L79 L78 L77 | L85 L87 L86 L81 | L96 L95 L94 L93 | L100 L99 L105 L98 | L106 L108 L107 L104 | L117 L119 L118 L113 | L116 L115 L121 L114 | L122 L124 L123 L120 | L128 L127 L126 L125 | L133 L135 L134 L129 | L144 L143 L142 L141
sketch "Sketch4" plane through (0, 0, 0) normal (0, 0, -1) x (-1, 0, 0)
  circle A0 centre (-6.35, -23.9141) radius 1.4351
  line L0 (0, -25.4) -> (0, -22.4282) projected
  line L1 (0, -25.4) -> (-12.7, -25.4) projected
  line L2 (25.4, -25.4) -> (12.7, -25.4) projected
  line L3 (12.7, -22.4282) -> (12.7, -25.4) projected
  point P0 (0, 0)
  dimension "d43" = 2.8702
  dimension "d44" = 6.35
  dimension "d45" = 1.4859
extrude "Extrusion6" cut sketch "Sketch4" against normal blind 2.9718
sketch "Sketch5" plane through (0, 0, 0) normal (0, 0, -1) x (-1, 0, 0)
  line L0 (22.4282, -4.9657) -> (16.5862, -4.9657)
  line L1 (16.5862, -4.9657) -> (16.5862, -2.7305)
  line L2 (16.5862, -2.7305) -> (14.0462, -2.7305)
  line L3 (14.0462, -2.7305) -> (14.0462, -4.9657)
  line L4 (14.0462, -4.9657) -> (12.7, -4.9657)
  line L5 (12.7, -4.9657) -> (12.7, -7.8359)
  line L6 (12.7, -7.8359) -> (14.0462, -7.8359)
  line L7 (14.0462, -7.8359) -> (14.0462, -10.0711)
  line L8 (14.0462, -10.0711) -> (16.5862, -10.0711)
  line L9 (16.5862, -10.0711) -> (16.5862, -7.8359)
  line L10 (16.5862, -7.8359) -> (22.4282, -7.8359)
  line L11 (22.4282, 0) -> (22.4282, -12.7) projected
  line L12 (22.4282, -4.9657) -> (22.4282, -7.8359)
  line L13 (25.4, -12.7) -> (22.4282, -12.7) projected
  point P0 (0, 0)
  dimension "d52" = 5.842
  dimension "d53" = 1.3462
  dimension "d54" = 2.54
  dimension "d55" = 2.54
  dimension "d56" = 2.8702
  dimension "d57" = 2.8702
  dimension "d58" = 2.2352
  dimension "d59" = 2.2352
  dimension "d60" = 2.2352
  dimension "d61" = 4.8641
extrude "Extrusion7" cut sketch "Sketch5" against normal blind 2.9718
properties part number "side2+hinge"
